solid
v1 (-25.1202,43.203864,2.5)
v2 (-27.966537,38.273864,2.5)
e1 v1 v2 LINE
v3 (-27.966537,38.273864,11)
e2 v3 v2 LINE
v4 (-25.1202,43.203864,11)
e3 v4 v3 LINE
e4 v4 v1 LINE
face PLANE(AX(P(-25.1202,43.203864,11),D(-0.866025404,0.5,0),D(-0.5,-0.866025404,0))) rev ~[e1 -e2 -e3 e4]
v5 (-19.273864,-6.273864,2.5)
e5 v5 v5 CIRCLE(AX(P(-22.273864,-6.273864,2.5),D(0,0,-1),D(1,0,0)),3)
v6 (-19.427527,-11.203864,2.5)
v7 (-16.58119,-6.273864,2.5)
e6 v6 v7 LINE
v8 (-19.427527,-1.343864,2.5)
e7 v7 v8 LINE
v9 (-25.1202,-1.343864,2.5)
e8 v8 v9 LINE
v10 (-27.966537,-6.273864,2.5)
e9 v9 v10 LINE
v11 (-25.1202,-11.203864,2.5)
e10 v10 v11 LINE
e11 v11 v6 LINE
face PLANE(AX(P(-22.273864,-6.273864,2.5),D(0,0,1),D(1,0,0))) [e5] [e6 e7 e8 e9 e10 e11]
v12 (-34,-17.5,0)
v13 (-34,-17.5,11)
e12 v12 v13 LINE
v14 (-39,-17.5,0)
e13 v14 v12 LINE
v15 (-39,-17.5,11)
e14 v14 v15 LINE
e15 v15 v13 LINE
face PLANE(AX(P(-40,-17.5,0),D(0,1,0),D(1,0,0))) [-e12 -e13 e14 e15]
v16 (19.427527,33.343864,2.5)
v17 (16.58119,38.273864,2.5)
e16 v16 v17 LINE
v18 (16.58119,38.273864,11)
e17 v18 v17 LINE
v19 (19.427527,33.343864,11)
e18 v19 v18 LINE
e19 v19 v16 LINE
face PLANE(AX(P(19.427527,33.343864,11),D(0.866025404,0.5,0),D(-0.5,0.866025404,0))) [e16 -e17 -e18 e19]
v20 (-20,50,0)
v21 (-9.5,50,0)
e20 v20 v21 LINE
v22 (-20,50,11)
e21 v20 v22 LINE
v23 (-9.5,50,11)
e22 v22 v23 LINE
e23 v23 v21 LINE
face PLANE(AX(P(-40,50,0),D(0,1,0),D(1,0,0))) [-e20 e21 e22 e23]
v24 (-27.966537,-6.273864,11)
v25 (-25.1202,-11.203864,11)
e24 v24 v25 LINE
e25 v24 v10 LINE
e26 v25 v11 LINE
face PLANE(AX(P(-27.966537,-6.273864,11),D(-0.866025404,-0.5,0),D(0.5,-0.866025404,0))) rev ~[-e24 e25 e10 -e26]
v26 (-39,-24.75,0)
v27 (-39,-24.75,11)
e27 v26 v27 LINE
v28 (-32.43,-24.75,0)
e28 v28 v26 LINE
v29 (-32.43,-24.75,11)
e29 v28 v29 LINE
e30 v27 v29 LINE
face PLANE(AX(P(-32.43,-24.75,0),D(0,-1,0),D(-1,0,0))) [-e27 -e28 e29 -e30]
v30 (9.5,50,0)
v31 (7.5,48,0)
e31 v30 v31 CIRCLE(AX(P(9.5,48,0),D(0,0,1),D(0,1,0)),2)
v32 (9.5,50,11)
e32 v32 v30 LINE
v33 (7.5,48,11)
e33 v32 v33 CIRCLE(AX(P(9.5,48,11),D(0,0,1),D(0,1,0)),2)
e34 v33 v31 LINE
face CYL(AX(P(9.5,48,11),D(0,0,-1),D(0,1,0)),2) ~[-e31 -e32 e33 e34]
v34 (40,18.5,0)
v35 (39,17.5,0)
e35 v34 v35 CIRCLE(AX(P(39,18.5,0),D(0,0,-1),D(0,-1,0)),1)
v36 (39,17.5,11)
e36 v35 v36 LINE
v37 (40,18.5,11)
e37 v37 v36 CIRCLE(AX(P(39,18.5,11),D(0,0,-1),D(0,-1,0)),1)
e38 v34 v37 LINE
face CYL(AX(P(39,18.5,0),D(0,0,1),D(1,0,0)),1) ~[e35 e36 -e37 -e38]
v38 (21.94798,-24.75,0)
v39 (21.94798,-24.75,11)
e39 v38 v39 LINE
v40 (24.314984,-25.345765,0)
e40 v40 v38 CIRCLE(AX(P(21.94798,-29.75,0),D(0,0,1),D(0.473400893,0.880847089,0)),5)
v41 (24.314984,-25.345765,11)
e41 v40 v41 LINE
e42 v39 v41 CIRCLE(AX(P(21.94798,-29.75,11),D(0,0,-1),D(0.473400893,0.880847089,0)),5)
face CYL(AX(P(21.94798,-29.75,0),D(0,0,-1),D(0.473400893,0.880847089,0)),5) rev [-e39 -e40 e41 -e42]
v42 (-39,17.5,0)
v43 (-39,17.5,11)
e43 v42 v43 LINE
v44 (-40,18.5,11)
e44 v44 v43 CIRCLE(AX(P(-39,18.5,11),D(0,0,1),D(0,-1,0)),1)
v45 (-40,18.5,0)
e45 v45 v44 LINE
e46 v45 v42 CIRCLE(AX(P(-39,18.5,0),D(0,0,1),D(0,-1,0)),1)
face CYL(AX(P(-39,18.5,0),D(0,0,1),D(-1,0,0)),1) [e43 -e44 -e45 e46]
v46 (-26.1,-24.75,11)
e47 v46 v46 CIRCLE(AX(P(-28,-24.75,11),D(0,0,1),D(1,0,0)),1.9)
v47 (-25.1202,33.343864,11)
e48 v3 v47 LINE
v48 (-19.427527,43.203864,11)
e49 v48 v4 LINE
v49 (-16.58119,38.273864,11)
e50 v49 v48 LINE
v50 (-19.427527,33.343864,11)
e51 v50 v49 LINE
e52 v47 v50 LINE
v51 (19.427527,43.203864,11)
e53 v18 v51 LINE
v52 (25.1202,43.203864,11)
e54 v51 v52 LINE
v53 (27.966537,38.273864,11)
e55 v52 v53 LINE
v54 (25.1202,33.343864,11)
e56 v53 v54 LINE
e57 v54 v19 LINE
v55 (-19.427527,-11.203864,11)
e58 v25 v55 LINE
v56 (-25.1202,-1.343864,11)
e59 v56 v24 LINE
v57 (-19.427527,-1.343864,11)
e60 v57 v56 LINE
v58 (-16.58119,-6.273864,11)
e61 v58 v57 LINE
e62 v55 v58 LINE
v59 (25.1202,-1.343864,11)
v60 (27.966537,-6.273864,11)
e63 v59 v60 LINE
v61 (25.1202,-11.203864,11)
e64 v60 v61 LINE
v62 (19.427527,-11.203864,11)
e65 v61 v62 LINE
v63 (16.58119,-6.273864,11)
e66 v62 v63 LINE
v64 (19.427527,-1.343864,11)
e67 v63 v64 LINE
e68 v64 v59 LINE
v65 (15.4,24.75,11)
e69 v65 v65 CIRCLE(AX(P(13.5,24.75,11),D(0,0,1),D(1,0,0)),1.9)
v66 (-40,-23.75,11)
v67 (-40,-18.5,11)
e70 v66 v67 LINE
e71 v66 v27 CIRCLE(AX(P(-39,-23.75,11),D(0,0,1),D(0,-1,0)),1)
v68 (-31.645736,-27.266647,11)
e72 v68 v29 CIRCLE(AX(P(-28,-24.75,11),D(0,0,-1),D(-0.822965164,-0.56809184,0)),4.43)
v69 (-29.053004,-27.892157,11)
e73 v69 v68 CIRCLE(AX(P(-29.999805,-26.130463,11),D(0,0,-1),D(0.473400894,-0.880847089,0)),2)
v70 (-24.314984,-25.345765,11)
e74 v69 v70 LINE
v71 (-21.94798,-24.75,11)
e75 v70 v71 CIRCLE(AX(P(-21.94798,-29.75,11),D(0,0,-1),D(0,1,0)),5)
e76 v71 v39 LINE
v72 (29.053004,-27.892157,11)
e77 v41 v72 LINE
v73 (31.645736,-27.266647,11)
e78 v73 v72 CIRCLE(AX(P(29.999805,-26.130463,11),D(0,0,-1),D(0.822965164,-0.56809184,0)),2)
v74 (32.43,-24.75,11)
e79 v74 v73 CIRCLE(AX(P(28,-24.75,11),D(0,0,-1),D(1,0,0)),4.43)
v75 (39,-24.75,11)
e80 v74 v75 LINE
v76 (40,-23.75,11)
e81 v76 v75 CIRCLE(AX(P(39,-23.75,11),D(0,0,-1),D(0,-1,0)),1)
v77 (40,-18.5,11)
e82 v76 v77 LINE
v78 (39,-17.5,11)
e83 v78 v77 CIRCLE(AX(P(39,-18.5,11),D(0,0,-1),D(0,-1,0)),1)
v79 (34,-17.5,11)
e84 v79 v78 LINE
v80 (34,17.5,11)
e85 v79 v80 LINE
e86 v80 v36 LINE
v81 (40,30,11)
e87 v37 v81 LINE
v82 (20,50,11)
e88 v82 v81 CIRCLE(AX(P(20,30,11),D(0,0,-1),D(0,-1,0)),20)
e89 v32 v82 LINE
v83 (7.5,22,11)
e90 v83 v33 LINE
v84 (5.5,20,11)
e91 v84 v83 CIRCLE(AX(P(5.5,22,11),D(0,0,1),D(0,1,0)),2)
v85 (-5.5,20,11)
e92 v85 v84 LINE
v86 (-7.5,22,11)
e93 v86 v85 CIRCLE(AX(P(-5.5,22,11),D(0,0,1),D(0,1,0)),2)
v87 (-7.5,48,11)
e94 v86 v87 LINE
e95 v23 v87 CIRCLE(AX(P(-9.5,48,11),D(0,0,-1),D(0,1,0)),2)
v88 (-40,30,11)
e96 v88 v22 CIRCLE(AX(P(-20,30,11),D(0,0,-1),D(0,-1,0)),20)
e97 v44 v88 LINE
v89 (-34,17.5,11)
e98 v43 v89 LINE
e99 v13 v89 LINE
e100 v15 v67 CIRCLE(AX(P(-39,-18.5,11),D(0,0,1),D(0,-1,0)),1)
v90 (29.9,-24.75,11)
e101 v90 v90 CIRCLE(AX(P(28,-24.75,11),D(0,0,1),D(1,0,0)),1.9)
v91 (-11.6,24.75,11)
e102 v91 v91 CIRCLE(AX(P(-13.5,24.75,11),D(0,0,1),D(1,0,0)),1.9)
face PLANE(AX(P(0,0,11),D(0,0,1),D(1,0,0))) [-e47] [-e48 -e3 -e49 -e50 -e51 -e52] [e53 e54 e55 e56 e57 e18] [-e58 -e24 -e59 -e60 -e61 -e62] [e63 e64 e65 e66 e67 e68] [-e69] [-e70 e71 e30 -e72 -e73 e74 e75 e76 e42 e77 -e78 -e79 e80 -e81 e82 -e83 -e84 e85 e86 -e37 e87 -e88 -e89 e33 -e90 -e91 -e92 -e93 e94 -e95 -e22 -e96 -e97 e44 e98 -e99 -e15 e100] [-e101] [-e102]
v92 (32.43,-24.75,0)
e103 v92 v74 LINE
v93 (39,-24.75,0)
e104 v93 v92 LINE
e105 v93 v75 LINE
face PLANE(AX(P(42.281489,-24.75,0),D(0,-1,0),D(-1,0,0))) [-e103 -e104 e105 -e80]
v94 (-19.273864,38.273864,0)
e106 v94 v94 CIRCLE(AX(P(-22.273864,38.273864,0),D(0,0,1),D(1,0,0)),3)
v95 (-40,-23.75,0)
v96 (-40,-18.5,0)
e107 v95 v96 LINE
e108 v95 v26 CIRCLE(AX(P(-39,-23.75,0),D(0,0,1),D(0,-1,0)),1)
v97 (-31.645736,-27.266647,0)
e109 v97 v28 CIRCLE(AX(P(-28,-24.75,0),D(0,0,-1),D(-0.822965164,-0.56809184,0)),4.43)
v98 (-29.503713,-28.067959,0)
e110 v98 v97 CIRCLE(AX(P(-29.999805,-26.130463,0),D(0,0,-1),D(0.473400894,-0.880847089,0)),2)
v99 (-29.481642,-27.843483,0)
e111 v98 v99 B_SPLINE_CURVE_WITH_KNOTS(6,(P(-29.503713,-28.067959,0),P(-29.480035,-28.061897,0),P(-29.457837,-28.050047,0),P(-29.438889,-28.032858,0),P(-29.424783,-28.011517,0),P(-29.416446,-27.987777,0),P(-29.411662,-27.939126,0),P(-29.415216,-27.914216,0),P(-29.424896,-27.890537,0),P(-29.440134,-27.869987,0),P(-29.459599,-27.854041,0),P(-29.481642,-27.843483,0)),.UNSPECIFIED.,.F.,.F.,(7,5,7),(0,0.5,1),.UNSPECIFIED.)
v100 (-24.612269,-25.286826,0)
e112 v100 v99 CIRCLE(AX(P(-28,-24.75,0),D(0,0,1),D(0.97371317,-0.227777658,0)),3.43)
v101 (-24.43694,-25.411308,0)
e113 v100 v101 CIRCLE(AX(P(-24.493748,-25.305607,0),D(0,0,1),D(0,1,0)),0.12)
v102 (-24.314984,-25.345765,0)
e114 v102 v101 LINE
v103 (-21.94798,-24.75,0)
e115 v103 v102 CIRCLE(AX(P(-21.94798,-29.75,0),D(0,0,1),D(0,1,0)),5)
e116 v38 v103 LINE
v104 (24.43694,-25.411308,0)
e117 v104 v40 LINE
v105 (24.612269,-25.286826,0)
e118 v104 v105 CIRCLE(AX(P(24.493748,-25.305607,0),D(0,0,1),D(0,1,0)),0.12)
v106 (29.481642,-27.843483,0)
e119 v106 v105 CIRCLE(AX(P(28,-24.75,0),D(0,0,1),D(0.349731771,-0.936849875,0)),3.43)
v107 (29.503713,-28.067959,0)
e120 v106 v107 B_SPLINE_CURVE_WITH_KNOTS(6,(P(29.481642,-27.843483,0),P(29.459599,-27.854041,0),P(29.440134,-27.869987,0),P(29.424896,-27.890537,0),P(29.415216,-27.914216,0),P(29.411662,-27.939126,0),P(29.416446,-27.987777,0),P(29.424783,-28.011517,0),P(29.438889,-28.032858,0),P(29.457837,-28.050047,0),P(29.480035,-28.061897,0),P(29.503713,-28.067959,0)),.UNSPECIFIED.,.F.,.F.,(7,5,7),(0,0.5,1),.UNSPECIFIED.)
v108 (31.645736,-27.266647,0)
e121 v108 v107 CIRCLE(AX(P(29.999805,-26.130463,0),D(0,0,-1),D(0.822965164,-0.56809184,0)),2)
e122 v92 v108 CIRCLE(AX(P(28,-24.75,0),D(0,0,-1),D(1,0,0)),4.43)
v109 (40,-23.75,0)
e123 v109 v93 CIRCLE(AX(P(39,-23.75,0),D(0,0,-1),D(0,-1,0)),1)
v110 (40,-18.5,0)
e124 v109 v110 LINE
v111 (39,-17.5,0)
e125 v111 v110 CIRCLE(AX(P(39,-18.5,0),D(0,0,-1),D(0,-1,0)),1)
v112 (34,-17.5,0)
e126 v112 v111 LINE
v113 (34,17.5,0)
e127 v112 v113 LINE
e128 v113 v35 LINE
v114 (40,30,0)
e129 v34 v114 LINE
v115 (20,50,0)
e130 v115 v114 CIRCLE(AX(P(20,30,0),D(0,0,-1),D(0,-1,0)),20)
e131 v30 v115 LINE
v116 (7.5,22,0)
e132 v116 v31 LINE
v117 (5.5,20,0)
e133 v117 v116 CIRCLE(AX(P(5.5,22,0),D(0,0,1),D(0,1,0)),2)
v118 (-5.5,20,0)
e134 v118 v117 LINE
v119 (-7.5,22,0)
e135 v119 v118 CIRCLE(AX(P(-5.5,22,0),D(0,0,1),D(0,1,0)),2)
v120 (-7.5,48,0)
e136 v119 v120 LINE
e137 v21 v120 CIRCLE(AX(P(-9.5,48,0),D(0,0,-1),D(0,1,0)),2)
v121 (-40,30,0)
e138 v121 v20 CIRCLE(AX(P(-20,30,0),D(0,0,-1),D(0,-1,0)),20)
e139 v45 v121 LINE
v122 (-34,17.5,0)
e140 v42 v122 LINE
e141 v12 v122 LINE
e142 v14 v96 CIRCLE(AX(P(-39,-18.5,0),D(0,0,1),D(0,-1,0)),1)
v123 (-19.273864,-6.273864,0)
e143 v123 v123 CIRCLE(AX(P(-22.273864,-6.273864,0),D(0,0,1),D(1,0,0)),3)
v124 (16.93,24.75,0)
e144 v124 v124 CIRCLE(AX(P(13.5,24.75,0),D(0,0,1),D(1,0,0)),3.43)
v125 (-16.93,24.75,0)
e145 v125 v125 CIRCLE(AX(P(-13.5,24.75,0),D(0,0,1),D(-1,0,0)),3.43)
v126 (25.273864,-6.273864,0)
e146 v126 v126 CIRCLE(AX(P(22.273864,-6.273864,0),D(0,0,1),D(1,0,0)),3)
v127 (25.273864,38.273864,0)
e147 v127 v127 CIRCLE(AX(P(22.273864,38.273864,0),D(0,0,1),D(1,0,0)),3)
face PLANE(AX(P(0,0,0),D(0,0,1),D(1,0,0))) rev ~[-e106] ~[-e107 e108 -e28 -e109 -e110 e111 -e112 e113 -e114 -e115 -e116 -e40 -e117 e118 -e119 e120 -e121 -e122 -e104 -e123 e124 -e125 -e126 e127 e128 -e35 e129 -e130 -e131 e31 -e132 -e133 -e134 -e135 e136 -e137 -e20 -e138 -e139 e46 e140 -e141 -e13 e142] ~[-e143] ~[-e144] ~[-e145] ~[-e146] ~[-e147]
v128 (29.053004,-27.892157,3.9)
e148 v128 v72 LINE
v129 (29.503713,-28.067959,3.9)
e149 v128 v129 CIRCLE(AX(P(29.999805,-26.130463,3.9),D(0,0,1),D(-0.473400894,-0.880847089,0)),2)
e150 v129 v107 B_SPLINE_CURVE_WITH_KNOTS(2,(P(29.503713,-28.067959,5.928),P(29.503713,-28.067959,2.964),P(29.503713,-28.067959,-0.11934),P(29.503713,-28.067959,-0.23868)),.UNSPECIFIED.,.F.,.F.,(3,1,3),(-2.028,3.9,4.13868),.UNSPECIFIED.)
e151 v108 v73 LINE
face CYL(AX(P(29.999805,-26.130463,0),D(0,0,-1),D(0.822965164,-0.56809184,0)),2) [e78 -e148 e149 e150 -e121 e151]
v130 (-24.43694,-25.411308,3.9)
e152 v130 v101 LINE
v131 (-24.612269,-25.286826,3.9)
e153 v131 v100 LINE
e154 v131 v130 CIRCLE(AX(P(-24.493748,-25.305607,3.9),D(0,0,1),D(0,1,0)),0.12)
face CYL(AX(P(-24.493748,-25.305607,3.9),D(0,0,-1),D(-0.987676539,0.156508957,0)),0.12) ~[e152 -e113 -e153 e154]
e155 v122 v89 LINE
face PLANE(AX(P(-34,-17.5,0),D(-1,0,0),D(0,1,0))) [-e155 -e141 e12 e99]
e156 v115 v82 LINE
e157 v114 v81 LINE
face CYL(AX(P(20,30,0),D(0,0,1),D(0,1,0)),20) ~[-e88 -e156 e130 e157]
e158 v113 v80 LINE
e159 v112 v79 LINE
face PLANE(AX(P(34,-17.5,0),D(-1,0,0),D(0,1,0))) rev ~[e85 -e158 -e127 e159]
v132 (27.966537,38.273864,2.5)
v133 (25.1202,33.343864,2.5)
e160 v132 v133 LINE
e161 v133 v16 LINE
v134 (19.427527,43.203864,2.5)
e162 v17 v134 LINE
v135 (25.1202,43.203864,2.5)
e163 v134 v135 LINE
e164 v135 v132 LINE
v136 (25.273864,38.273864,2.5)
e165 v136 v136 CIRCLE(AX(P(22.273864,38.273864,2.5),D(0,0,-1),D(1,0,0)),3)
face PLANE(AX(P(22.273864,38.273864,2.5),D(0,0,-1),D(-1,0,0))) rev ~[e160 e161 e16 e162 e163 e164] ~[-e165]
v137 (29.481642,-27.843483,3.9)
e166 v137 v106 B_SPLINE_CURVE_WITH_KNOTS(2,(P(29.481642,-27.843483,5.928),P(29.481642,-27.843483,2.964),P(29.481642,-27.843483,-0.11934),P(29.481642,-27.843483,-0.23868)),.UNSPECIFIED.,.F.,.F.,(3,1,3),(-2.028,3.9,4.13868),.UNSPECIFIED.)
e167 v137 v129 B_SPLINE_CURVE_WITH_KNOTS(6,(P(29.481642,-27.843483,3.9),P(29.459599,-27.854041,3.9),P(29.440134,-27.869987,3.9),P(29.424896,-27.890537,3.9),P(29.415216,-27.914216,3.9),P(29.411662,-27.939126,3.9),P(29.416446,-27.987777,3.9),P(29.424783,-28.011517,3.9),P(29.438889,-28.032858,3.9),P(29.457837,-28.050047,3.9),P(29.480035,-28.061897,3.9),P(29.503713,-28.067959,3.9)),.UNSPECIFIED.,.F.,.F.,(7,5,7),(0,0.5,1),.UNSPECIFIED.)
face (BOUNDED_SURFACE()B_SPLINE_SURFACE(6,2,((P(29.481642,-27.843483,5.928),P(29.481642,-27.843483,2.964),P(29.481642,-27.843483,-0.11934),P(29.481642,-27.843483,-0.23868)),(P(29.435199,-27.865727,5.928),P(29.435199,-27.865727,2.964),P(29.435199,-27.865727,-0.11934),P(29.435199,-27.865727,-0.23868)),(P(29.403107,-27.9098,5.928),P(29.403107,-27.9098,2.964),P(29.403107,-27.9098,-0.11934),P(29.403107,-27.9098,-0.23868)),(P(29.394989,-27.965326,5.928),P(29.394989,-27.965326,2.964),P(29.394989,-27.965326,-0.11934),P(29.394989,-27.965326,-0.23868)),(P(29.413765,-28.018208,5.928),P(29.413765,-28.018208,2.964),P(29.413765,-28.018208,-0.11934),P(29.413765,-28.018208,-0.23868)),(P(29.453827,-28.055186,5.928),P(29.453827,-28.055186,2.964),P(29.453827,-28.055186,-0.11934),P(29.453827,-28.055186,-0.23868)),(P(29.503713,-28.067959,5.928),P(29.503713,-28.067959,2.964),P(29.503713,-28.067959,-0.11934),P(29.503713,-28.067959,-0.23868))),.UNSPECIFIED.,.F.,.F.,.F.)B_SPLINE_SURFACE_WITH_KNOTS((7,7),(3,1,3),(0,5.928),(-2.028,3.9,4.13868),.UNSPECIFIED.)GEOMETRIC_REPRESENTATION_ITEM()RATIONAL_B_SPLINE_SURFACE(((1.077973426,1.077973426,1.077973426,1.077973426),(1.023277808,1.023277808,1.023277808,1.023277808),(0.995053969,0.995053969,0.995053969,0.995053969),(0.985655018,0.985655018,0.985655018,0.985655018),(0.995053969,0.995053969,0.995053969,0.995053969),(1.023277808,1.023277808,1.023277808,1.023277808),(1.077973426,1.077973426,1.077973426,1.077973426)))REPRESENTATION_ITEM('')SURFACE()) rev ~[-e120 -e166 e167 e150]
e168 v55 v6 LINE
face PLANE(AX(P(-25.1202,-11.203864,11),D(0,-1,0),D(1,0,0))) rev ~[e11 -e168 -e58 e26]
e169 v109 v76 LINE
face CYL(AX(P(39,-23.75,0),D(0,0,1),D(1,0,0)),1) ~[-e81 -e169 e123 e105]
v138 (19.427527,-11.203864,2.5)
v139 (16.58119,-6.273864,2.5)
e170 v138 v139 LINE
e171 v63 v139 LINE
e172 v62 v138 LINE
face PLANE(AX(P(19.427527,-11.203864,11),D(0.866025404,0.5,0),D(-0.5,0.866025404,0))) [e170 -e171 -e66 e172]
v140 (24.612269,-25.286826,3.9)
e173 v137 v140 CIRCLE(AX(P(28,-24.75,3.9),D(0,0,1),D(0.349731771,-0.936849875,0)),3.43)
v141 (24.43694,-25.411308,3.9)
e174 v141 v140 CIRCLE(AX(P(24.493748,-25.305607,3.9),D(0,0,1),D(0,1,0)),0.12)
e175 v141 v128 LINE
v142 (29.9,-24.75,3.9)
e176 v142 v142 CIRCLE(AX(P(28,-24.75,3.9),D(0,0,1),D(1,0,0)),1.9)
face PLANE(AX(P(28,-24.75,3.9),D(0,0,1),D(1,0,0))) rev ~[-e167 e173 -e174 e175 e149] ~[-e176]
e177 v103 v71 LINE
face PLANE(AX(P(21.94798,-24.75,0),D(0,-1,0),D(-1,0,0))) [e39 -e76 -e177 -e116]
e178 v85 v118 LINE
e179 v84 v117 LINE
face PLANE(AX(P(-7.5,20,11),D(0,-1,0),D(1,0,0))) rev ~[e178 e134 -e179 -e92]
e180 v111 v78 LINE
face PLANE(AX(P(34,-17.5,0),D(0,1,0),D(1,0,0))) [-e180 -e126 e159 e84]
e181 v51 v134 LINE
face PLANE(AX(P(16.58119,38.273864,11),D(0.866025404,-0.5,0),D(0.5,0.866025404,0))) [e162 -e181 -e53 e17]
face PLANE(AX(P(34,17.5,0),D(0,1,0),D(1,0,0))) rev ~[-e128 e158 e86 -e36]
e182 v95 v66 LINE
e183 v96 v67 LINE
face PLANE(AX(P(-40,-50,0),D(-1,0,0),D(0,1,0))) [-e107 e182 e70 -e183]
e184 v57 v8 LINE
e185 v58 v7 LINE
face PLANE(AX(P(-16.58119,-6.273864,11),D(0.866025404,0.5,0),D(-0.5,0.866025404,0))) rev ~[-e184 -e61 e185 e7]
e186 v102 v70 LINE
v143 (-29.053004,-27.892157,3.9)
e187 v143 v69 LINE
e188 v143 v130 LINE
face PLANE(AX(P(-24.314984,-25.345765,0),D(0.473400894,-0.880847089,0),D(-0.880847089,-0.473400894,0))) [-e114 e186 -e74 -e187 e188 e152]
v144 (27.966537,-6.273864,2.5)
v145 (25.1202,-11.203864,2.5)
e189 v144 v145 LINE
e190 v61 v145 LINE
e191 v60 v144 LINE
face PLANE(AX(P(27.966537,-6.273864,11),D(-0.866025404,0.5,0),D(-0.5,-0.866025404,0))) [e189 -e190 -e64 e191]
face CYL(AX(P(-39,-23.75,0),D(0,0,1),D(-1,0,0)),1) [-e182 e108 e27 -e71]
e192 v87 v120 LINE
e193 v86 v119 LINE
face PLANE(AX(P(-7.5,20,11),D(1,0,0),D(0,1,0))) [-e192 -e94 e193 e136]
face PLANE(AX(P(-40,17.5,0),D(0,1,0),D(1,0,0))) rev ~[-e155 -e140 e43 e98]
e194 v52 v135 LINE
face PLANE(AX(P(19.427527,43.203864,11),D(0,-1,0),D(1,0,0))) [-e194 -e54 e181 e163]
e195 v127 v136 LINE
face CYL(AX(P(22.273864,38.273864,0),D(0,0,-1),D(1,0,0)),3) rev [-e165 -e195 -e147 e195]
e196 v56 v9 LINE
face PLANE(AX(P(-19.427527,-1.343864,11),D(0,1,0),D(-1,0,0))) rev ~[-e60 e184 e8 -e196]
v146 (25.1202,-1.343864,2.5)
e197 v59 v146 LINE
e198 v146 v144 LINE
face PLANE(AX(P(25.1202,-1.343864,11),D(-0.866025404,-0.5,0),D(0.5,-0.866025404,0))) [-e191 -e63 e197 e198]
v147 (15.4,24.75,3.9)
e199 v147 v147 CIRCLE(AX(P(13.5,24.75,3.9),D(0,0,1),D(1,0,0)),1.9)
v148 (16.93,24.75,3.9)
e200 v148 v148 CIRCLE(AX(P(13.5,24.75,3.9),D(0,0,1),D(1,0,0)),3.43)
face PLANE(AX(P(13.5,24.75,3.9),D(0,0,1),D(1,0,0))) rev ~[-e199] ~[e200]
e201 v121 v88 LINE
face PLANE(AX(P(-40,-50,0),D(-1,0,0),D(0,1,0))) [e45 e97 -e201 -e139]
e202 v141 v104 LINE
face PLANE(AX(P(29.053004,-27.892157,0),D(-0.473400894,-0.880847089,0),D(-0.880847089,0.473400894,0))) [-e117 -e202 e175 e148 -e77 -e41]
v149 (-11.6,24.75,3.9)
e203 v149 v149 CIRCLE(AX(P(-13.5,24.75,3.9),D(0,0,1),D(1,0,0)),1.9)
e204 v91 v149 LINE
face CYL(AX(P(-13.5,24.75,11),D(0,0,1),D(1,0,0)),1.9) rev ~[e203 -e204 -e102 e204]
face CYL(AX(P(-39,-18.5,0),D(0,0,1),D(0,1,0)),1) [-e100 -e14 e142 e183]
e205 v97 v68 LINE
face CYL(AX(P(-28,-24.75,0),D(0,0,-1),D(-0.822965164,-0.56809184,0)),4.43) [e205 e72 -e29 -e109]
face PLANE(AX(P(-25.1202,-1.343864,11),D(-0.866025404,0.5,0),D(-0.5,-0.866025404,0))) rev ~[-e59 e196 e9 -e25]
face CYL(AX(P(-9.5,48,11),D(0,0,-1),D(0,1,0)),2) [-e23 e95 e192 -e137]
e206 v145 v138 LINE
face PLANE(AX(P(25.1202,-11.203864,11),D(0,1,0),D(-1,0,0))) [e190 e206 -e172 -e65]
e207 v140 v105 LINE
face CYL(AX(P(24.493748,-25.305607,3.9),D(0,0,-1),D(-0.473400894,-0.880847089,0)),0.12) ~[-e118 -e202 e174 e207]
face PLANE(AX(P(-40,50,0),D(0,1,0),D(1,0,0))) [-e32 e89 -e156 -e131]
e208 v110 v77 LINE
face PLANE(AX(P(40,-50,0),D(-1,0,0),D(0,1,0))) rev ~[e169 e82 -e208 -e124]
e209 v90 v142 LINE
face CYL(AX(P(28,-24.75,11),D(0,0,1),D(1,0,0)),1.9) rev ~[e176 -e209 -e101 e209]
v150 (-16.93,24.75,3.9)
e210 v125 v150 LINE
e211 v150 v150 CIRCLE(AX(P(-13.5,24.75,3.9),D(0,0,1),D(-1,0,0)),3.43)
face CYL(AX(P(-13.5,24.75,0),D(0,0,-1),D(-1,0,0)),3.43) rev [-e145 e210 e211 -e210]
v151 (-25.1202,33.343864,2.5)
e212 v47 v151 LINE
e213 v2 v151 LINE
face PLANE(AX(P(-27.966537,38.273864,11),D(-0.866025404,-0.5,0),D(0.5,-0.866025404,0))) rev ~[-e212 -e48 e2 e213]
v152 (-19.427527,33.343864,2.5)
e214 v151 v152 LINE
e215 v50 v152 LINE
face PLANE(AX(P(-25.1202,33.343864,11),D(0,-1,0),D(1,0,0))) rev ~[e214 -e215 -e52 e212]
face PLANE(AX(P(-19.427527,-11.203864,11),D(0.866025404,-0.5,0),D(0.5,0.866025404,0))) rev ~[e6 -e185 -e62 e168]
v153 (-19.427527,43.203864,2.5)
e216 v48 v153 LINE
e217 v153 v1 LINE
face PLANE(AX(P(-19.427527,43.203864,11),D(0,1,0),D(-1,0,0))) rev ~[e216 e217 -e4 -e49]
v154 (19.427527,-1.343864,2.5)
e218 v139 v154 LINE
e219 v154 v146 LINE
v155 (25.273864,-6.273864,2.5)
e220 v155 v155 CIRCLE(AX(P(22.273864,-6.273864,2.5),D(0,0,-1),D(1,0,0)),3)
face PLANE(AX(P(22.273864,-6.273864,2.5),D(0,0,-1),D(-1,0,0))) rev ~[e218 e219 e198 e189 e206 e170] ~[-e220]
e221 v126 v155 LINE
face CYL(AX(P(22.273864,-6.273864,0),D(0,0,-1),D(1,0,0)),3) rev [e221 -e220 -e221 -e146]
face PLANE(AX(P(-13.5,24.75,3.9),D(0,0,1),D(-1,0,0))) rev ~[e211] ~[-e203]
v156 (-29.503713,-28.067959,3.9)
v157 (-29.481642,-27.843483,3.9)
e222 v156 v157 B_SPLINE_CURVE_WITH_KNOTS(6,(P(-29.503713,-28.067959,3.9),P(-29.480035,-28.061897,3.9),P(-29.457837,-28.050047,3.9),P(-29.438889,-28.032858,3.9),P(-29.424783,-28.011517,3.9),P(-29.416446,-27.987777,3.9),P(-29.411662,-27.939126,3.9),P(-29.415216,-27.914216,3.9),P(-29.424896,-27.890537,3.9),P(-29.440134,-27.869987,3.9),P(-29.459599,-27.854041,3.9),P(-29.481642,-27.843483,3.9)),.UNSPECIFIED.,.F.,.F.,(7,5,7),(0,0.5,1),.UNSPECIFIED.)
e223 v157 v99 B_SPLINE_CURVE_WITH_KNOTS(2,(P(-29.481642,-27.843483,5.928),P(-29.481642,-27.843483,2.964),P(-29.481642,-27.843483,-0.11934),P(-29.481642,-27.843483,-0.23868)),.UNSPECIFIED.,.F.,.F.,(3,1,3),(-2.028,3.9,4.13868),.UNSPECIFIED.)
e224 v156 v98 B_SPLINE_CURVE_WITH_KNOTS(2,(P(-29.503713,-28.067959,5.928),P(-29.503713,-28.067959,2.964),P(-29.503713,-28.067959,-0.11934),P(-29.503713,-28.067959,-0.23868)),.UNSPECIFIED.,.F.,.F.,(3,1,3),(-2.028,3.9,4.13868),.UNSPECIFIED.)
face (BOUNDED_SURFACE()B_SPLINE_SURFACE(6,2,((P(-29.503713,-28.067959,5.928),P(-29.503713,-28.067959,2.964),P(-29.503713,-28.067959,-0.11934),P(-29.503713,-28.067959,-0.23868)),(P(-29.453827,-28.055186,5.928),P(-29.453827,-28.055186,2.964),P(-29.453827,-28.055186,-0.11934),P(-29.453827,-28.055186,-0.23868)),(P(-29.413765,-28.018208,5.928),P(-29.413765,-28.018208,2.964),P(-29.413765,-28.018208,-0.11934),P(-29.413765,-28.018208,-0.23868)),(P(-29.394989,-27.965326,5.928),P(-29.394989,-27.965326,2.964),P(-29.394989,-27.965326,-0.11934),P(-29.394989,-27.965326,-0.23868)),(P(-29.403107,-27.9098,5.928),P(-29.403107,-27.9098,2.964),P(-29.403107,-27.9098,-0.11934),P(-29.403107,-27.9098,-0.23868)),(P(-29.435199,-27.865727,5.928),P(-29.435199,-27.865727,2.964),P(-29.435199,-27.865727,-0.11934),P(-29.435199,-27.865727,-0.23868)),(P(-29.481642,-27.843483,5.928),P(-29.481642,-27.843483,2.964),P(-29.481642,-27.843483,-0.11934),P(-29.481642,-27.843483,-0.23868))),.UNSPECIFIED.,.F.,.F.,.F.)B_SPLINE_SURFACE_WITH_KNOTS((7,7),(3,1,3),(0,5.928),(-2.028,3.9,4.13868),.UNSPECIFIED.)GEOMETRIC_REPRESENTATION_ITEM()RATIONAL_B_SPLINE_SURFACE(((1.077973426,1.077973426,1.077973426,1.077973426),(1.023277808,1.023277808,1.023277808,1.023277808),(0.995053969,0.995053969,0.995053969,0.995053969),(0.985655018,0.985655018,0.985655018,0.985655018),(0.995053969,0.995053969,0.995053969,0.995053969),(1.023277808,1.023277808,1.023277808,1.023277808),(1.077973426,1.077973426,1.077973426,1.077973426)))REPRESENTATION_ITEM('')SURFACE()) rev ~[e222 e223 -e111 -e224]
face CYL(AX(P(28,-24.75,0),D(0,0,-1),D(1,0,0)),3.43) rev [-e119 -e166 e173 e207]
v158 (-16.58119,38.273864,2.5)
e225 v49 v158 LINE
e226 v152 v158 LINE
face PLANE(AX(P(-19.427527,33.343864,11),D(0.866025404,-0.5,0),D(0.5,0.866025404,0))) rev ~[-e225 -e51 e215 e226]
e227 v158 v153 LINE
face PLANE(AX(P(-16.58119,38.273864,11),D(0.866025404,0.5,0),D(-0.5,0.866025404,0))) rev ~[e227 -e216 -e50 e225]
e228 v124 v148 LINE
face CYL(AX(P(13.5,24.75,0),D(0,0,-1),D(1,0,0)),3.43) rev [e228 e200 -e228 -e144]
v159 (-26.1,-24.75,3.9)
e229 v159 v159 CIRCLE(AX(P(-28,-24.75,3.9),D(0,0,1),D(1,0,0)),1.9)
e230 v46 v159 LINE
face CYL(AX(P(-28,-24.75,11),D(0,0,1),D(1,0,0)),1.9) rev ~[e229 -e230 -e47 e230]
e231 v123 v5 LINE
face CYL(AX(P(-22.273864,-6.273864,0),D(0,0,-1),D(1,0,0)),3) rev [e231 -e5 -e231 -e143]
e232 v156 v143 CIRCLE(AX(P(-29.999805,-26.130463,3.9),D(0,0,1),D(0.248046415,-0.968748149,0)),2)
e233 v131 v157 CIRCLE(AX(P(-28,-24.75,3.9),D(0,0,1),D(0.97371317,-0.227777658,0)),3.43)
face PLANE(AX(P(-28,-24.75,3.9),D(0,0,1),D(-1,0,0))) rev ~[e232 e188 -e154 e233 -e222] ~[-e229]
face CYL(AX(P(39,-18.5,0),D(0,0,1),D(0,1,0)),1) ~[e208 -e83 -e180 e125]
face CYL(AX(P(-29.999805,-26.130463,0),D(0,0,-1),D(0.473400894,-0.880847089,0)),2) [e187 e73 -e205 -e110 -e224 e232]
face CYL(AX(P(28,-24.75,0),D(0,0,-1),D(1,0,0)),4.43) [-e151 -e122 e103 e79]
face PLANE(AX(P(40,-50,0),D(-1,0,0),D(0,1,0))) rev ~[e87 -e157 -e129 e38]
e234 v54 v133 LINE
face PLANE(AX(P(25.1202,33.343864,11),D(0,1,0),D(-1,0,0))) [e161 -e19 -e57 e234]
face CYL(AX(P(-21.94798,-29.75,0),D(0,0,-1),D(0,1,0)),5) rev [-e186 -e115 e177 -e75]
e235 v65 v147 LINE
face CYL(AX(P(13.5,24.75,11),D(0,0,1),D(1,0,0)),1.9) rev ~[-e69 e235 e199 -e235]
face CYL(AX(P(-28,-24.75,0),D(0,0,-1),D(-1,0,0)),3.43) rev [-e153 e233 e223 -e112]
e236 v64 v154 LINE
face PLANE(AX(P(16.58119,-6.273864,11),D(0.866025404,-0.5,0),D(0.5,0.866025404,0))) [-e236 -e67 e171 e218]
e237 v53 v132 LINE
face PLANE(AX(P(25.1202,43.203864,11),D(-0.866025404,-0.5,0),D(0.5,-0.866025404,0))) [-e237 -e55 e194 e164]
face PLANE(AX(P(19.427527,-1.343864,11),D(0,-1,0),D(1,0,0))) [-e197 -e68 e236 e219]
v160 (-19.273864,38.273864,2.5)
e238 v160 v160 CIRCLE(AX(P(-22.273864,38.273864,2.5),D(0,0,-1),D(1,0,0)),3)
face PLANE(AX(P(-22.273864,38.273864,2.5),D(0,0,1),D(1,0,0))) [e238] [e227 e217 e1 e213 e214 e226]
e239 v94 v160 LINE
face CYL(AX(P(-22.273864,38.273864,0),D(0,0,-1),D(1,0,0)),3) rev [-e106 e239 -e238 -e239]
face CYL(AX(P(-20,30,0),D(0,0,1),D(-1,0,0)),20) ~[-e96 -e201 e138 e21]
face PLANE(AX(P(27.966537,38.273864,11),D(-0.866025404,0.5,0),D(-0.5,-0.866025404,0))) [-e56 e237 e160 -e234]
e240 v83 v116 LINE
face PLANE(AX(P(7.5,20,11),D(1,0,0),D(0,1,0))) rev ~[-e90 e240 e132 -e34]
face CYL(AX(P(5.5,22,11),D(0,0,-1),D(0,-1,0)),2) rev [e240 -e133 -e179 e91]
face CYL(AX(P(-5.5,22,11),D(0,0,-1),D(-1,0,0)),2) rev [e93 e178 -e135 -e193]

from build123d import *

# Parameters (mm, degrees)
SKETCH_1_W                   = 80
SKETCH_1_H                   = 100
EXTRUDE_1_DEPTH              = 11
SKETCH_7_W                   = 15
SKETCH_7_H                   = 30
CUT_EXTRUDE_1_DEPTH          = 16
HOLE_WIZARD_M4_1_D           = 3.3
HOLE_WIZARD_M4_1_CSINK_D     = 4.05
HOLE_WIZARD_M4_1_CSINK_ANGLE = 90
FILLET_1_R                   = 20
FILLET_2_R                   = 2
SKETCH_9_W                   = 6
SKETCH_9_H                   = 35
CUT_EXTRUDE_2_DEPTH          = 11
SKETCH_11_R                  = 3
CUT_EXTRUDE_4_DEPTH          = 15
SKETCH_12_R                  = 3.43
CUT_EXTRUDE_5_DEPTH          = 3.9
CUT_EXTRUDE_6_DEPTH          = 8.5
CUT_EXTRUDE_7_DEPTH          = 14
SKETCH_15_R                  = 1.9
CUT_EXTRUDE_8_DEPTH          = 14
FILLET_4_R                   = 0.12
FILLET_5_R                   = 1


with BuildPart() as part:
    # 草图1 → 凸台-拉伸1 (new body)
    with BuildSketch(Plane.XY):
        Rectangle(SKETCH_1_W, SKETCH_1_H)
    extrude(amount=EXTRUDE_1_DEPTH)

    # 草图7 → 切除-拉伸1 (cut)
    with BuildSketch(Plane.XY.offset(11)):
        with Locations((0, 35)):
            Rectangle(SKETCH_7_W, SKETCH_7_H)
    extrude(amount=-CUT_EXTRUDE_1_DEPTH, mode=Mode.SUBTRACT)

    # M4 螺纹孔1 (through all)
    with Locations(Plane(origin=(13.5, 24.75, 0), x_dir=(-1, 0, 0), z_dir=(0, 0, -1))):
        with Locations((0, 0), (27, 0), (41.5, -49.5), (-14.5, -49.5)):
            CounterSinkHole(HOLE_WIZARD_M4_1_D / 2, HOLE_WIZARD_M4_1_CSINK_D / 2, counter_sink_angle=HOLE_WIZARD_M4_1_CSINK_ANGLE)

    # 圆角1
    fillet_1_edges = [part.edges().sort_by_distance(p)[0] for p in [
        (-40, 50, 5.5),
        (40, 50, 5.5),
    ]]
    fillet(fillet_1_edges, radius=FILLET_1_R)

    # 圆角2
    fillet_2_edges = [part.edges().sort_by_distance(p)[0] for p in [
        (-7.5, 20, 5.5),
        (-7.5, 50, 5.5),
        (7.5, 50, 5.5),
        (7.5, 20, 5.5),
        (40, -50, 5.5),
        (-40, -50, 5.5),
    ]]
    fillet(fillet_2_edges, radius=FILLET_2_R)

    # 草图9 → 切除-拉伸2 (cut)
    with BuildSketch(Plane.XY):
        with Locations((37, 0)):
            Rectangle(SKETCH_9_W, SKETCH_9_H)
        with Locations((-37, 0)):
            Rectangle(SKETCH_9_W, SKETCH_9_H)
    extrude(amount=CUT_EXTRUDE_2_DEPTH, mode=Mode.SUBTRACT)

    # 草图11 → 切除-拉伸4 (cut)
    with BuildSketch(Plane.XY):
        with Locations((-22.273863607, 38.273863607)):
            Circle(SKETCH_11_R)
        with Locations((22.273863607, 38.273863607)):
            Circle(SKETCH_11_R)
        with Locations((22.273863607, -6.273863607)):
            Circle(SKETCH_11_R)
        with Locations((-22.273863607, -6.273863607)):
            Circle(SKETCH_11_R)
    extrude(amount=CUT_EXTRUDE_4_DEPTH, mode=Mode.SUBTRACT)

    # 草图12 → 切除-拉伸5 (cut)
    with BuildSketch(Plane.XY):
        with Locations((13.5, 24.75)):
            Circle(SKETCH_12_R)
        with Locations((28, -24.75)):
            Circle(SKETCH_12_R)
        with Locations(Location((-28, -24.75, 0), (0, 0, 180))):
            Circle(SKETCH_12_R)
        with Locations(Location((-13.5, 24.75, 0), (0, 0, 180))):
            Circle(SKETCH_12_R)
    extrude(amount=CUT_EXTRUDE_5_DEPTH, mode=Mode.SUBTRACT)

    # 草图13 → 切除-拉伸6 (cut)
    with BuildSketch(Plane.XY.offset(11)):
        Polygon((-19.42752678, 33.343863607), (-16.581189953, 38.273863607), (-19.42752678, 43.203863607), (-25.120200434, 43.203863607), (-27.966537262, 38.273863607), (-25.120200434, 33.343863607), align=None)
        Polygon((-19.42752678, -11.203863607), (-16.581189953, -6.273863607), (-19.42752678, -1.343863607), (-25.120200434, -1.343863607), (-27.966537262, -6.273863607), (-25.120200434, -11.203863607), align=None)
        Polygon((25.120200434, -11.203863607), (19.42752678, -11.203863607), (16.581189953, -6.273863607), (19.42752678, -1.343863607), (25.120200434, -1.343863607), (27.966537262, -6.273863607), align=None)
        Polygon((25.120200434, 33.343863607), (19.42752678, 33.343863607), (16.581189953, 38.273863607), (19.42752678, 43.203863607), (25.120200434, 43.203863607), (27.966537262, 38.273863607), align=None)
    extrude(amount=-CUT_EXTRUDE_6_DEPTH, mode=Mode.SUBTRACT)

    # 草图14 → 切除-拉伸7 (cut)
    with BuildSketch(Plane(origin=(0, 0, 0), x_dir=(-1, 0, 0), z_dir=(0, 0, -1))):
        with BuildLine():
            Line((-42.281489137, -24.75), (-32.43, -24.75))
            ThreePointArc((-32.43, -24.75), (-32.229391744, -26.068008147), (-31.645735677, -27.266646852))
            ThreePointArc((-31.645735677, -27.266646852), (-30.468858677, -28.074682546), (-29.053003561, -27.892157349))
            Line((-29.053003561, -27.892157349), (-24.314984036, -25.345764556))
            ThreePointArc((-24.314984036, -25.345764556), (-23.168394001, -24.901228134), (-21.947979567, -24.75))
            Line((-21.947979567, -24.75), (21.947979567, -24.75))
            ThreePointArc((21.947979567, -24.75), (23.168394001, -24.901228134), (24.314984036, -25.345764556))
            Line((24.314984036, -25.345764556), (29.053003561, -27.892157349))
            ThreePointArc((29.053003561, -27.892157349), (30.468858677, -28.074682546), (31.645735677, -27.266646852))
            ThreePointArc((31.645735677, -27.266646852), (32.229391744, -26.068008147), (32.43, -24.75))
            Line((32.43, -24.75), (45.771408099, -24.75))
            Line((45.771408099, -24.75), (45.771408099, -58.548543379))
            Line((45.771408099, -58.548543379), (-42.281489137, -58.548543379))
            Line((-42.281489137, -58.548543379), (-42.281489137, -24.75))
        make_face()
    extrude(amount=-CUT_EXTRUDE_7_DEPTH, mode=Mode.SUBTRACT)

    # 草图15 → 切除-拉伸8 (cut)
    with BuildSketch(Plane.XY.offset(11)):
        with Locations((-13.5, 24.75)):
            Circle(SKETCH_15_R)
        with Locations((-28, -24.75)):
            Circle(SKETCH_15_R)
        with Locations((13.5, 24.75)):
            Circle(SKETCH_15_R)
        with Locations((28, -24.75)):
            Circle(SKETCH_15_R)
    extrude(amount=-CUT_EXTRUDE_8_DEPTH, mode=Mode.SUBTRACT)

    # 圆角4
    fillet_4_edges = [part.edges().sort_by_distance(p)[0] for p in [
        (24.660163825, -25.531277369, 1.95),
        (29.199579974, -27.963395071, 1.95),
        (-29.199579974, -27.963395071, 1.95),
        (-24.660163825, -25.531277369, 1.95),
    ]]
    fillet(fillet_4_edges, radius=FILLET_4_R)

    # 圆角5
    fillet_5_edges = [part.edges().sort_by_distance(p)[0] for p in [
        (40, -17.5, 5.5),
        (40, 17.5, 5.5),
        (-40, 17.5, 5.5),
        (-40, -17.5, 5.5),
        (40, -24.75, 5.5),
        (-40, -24.75, 5.5),
    ]]
    fillet(fillet_5_edges, radius=FILLET_5_R)


solid = part.part
